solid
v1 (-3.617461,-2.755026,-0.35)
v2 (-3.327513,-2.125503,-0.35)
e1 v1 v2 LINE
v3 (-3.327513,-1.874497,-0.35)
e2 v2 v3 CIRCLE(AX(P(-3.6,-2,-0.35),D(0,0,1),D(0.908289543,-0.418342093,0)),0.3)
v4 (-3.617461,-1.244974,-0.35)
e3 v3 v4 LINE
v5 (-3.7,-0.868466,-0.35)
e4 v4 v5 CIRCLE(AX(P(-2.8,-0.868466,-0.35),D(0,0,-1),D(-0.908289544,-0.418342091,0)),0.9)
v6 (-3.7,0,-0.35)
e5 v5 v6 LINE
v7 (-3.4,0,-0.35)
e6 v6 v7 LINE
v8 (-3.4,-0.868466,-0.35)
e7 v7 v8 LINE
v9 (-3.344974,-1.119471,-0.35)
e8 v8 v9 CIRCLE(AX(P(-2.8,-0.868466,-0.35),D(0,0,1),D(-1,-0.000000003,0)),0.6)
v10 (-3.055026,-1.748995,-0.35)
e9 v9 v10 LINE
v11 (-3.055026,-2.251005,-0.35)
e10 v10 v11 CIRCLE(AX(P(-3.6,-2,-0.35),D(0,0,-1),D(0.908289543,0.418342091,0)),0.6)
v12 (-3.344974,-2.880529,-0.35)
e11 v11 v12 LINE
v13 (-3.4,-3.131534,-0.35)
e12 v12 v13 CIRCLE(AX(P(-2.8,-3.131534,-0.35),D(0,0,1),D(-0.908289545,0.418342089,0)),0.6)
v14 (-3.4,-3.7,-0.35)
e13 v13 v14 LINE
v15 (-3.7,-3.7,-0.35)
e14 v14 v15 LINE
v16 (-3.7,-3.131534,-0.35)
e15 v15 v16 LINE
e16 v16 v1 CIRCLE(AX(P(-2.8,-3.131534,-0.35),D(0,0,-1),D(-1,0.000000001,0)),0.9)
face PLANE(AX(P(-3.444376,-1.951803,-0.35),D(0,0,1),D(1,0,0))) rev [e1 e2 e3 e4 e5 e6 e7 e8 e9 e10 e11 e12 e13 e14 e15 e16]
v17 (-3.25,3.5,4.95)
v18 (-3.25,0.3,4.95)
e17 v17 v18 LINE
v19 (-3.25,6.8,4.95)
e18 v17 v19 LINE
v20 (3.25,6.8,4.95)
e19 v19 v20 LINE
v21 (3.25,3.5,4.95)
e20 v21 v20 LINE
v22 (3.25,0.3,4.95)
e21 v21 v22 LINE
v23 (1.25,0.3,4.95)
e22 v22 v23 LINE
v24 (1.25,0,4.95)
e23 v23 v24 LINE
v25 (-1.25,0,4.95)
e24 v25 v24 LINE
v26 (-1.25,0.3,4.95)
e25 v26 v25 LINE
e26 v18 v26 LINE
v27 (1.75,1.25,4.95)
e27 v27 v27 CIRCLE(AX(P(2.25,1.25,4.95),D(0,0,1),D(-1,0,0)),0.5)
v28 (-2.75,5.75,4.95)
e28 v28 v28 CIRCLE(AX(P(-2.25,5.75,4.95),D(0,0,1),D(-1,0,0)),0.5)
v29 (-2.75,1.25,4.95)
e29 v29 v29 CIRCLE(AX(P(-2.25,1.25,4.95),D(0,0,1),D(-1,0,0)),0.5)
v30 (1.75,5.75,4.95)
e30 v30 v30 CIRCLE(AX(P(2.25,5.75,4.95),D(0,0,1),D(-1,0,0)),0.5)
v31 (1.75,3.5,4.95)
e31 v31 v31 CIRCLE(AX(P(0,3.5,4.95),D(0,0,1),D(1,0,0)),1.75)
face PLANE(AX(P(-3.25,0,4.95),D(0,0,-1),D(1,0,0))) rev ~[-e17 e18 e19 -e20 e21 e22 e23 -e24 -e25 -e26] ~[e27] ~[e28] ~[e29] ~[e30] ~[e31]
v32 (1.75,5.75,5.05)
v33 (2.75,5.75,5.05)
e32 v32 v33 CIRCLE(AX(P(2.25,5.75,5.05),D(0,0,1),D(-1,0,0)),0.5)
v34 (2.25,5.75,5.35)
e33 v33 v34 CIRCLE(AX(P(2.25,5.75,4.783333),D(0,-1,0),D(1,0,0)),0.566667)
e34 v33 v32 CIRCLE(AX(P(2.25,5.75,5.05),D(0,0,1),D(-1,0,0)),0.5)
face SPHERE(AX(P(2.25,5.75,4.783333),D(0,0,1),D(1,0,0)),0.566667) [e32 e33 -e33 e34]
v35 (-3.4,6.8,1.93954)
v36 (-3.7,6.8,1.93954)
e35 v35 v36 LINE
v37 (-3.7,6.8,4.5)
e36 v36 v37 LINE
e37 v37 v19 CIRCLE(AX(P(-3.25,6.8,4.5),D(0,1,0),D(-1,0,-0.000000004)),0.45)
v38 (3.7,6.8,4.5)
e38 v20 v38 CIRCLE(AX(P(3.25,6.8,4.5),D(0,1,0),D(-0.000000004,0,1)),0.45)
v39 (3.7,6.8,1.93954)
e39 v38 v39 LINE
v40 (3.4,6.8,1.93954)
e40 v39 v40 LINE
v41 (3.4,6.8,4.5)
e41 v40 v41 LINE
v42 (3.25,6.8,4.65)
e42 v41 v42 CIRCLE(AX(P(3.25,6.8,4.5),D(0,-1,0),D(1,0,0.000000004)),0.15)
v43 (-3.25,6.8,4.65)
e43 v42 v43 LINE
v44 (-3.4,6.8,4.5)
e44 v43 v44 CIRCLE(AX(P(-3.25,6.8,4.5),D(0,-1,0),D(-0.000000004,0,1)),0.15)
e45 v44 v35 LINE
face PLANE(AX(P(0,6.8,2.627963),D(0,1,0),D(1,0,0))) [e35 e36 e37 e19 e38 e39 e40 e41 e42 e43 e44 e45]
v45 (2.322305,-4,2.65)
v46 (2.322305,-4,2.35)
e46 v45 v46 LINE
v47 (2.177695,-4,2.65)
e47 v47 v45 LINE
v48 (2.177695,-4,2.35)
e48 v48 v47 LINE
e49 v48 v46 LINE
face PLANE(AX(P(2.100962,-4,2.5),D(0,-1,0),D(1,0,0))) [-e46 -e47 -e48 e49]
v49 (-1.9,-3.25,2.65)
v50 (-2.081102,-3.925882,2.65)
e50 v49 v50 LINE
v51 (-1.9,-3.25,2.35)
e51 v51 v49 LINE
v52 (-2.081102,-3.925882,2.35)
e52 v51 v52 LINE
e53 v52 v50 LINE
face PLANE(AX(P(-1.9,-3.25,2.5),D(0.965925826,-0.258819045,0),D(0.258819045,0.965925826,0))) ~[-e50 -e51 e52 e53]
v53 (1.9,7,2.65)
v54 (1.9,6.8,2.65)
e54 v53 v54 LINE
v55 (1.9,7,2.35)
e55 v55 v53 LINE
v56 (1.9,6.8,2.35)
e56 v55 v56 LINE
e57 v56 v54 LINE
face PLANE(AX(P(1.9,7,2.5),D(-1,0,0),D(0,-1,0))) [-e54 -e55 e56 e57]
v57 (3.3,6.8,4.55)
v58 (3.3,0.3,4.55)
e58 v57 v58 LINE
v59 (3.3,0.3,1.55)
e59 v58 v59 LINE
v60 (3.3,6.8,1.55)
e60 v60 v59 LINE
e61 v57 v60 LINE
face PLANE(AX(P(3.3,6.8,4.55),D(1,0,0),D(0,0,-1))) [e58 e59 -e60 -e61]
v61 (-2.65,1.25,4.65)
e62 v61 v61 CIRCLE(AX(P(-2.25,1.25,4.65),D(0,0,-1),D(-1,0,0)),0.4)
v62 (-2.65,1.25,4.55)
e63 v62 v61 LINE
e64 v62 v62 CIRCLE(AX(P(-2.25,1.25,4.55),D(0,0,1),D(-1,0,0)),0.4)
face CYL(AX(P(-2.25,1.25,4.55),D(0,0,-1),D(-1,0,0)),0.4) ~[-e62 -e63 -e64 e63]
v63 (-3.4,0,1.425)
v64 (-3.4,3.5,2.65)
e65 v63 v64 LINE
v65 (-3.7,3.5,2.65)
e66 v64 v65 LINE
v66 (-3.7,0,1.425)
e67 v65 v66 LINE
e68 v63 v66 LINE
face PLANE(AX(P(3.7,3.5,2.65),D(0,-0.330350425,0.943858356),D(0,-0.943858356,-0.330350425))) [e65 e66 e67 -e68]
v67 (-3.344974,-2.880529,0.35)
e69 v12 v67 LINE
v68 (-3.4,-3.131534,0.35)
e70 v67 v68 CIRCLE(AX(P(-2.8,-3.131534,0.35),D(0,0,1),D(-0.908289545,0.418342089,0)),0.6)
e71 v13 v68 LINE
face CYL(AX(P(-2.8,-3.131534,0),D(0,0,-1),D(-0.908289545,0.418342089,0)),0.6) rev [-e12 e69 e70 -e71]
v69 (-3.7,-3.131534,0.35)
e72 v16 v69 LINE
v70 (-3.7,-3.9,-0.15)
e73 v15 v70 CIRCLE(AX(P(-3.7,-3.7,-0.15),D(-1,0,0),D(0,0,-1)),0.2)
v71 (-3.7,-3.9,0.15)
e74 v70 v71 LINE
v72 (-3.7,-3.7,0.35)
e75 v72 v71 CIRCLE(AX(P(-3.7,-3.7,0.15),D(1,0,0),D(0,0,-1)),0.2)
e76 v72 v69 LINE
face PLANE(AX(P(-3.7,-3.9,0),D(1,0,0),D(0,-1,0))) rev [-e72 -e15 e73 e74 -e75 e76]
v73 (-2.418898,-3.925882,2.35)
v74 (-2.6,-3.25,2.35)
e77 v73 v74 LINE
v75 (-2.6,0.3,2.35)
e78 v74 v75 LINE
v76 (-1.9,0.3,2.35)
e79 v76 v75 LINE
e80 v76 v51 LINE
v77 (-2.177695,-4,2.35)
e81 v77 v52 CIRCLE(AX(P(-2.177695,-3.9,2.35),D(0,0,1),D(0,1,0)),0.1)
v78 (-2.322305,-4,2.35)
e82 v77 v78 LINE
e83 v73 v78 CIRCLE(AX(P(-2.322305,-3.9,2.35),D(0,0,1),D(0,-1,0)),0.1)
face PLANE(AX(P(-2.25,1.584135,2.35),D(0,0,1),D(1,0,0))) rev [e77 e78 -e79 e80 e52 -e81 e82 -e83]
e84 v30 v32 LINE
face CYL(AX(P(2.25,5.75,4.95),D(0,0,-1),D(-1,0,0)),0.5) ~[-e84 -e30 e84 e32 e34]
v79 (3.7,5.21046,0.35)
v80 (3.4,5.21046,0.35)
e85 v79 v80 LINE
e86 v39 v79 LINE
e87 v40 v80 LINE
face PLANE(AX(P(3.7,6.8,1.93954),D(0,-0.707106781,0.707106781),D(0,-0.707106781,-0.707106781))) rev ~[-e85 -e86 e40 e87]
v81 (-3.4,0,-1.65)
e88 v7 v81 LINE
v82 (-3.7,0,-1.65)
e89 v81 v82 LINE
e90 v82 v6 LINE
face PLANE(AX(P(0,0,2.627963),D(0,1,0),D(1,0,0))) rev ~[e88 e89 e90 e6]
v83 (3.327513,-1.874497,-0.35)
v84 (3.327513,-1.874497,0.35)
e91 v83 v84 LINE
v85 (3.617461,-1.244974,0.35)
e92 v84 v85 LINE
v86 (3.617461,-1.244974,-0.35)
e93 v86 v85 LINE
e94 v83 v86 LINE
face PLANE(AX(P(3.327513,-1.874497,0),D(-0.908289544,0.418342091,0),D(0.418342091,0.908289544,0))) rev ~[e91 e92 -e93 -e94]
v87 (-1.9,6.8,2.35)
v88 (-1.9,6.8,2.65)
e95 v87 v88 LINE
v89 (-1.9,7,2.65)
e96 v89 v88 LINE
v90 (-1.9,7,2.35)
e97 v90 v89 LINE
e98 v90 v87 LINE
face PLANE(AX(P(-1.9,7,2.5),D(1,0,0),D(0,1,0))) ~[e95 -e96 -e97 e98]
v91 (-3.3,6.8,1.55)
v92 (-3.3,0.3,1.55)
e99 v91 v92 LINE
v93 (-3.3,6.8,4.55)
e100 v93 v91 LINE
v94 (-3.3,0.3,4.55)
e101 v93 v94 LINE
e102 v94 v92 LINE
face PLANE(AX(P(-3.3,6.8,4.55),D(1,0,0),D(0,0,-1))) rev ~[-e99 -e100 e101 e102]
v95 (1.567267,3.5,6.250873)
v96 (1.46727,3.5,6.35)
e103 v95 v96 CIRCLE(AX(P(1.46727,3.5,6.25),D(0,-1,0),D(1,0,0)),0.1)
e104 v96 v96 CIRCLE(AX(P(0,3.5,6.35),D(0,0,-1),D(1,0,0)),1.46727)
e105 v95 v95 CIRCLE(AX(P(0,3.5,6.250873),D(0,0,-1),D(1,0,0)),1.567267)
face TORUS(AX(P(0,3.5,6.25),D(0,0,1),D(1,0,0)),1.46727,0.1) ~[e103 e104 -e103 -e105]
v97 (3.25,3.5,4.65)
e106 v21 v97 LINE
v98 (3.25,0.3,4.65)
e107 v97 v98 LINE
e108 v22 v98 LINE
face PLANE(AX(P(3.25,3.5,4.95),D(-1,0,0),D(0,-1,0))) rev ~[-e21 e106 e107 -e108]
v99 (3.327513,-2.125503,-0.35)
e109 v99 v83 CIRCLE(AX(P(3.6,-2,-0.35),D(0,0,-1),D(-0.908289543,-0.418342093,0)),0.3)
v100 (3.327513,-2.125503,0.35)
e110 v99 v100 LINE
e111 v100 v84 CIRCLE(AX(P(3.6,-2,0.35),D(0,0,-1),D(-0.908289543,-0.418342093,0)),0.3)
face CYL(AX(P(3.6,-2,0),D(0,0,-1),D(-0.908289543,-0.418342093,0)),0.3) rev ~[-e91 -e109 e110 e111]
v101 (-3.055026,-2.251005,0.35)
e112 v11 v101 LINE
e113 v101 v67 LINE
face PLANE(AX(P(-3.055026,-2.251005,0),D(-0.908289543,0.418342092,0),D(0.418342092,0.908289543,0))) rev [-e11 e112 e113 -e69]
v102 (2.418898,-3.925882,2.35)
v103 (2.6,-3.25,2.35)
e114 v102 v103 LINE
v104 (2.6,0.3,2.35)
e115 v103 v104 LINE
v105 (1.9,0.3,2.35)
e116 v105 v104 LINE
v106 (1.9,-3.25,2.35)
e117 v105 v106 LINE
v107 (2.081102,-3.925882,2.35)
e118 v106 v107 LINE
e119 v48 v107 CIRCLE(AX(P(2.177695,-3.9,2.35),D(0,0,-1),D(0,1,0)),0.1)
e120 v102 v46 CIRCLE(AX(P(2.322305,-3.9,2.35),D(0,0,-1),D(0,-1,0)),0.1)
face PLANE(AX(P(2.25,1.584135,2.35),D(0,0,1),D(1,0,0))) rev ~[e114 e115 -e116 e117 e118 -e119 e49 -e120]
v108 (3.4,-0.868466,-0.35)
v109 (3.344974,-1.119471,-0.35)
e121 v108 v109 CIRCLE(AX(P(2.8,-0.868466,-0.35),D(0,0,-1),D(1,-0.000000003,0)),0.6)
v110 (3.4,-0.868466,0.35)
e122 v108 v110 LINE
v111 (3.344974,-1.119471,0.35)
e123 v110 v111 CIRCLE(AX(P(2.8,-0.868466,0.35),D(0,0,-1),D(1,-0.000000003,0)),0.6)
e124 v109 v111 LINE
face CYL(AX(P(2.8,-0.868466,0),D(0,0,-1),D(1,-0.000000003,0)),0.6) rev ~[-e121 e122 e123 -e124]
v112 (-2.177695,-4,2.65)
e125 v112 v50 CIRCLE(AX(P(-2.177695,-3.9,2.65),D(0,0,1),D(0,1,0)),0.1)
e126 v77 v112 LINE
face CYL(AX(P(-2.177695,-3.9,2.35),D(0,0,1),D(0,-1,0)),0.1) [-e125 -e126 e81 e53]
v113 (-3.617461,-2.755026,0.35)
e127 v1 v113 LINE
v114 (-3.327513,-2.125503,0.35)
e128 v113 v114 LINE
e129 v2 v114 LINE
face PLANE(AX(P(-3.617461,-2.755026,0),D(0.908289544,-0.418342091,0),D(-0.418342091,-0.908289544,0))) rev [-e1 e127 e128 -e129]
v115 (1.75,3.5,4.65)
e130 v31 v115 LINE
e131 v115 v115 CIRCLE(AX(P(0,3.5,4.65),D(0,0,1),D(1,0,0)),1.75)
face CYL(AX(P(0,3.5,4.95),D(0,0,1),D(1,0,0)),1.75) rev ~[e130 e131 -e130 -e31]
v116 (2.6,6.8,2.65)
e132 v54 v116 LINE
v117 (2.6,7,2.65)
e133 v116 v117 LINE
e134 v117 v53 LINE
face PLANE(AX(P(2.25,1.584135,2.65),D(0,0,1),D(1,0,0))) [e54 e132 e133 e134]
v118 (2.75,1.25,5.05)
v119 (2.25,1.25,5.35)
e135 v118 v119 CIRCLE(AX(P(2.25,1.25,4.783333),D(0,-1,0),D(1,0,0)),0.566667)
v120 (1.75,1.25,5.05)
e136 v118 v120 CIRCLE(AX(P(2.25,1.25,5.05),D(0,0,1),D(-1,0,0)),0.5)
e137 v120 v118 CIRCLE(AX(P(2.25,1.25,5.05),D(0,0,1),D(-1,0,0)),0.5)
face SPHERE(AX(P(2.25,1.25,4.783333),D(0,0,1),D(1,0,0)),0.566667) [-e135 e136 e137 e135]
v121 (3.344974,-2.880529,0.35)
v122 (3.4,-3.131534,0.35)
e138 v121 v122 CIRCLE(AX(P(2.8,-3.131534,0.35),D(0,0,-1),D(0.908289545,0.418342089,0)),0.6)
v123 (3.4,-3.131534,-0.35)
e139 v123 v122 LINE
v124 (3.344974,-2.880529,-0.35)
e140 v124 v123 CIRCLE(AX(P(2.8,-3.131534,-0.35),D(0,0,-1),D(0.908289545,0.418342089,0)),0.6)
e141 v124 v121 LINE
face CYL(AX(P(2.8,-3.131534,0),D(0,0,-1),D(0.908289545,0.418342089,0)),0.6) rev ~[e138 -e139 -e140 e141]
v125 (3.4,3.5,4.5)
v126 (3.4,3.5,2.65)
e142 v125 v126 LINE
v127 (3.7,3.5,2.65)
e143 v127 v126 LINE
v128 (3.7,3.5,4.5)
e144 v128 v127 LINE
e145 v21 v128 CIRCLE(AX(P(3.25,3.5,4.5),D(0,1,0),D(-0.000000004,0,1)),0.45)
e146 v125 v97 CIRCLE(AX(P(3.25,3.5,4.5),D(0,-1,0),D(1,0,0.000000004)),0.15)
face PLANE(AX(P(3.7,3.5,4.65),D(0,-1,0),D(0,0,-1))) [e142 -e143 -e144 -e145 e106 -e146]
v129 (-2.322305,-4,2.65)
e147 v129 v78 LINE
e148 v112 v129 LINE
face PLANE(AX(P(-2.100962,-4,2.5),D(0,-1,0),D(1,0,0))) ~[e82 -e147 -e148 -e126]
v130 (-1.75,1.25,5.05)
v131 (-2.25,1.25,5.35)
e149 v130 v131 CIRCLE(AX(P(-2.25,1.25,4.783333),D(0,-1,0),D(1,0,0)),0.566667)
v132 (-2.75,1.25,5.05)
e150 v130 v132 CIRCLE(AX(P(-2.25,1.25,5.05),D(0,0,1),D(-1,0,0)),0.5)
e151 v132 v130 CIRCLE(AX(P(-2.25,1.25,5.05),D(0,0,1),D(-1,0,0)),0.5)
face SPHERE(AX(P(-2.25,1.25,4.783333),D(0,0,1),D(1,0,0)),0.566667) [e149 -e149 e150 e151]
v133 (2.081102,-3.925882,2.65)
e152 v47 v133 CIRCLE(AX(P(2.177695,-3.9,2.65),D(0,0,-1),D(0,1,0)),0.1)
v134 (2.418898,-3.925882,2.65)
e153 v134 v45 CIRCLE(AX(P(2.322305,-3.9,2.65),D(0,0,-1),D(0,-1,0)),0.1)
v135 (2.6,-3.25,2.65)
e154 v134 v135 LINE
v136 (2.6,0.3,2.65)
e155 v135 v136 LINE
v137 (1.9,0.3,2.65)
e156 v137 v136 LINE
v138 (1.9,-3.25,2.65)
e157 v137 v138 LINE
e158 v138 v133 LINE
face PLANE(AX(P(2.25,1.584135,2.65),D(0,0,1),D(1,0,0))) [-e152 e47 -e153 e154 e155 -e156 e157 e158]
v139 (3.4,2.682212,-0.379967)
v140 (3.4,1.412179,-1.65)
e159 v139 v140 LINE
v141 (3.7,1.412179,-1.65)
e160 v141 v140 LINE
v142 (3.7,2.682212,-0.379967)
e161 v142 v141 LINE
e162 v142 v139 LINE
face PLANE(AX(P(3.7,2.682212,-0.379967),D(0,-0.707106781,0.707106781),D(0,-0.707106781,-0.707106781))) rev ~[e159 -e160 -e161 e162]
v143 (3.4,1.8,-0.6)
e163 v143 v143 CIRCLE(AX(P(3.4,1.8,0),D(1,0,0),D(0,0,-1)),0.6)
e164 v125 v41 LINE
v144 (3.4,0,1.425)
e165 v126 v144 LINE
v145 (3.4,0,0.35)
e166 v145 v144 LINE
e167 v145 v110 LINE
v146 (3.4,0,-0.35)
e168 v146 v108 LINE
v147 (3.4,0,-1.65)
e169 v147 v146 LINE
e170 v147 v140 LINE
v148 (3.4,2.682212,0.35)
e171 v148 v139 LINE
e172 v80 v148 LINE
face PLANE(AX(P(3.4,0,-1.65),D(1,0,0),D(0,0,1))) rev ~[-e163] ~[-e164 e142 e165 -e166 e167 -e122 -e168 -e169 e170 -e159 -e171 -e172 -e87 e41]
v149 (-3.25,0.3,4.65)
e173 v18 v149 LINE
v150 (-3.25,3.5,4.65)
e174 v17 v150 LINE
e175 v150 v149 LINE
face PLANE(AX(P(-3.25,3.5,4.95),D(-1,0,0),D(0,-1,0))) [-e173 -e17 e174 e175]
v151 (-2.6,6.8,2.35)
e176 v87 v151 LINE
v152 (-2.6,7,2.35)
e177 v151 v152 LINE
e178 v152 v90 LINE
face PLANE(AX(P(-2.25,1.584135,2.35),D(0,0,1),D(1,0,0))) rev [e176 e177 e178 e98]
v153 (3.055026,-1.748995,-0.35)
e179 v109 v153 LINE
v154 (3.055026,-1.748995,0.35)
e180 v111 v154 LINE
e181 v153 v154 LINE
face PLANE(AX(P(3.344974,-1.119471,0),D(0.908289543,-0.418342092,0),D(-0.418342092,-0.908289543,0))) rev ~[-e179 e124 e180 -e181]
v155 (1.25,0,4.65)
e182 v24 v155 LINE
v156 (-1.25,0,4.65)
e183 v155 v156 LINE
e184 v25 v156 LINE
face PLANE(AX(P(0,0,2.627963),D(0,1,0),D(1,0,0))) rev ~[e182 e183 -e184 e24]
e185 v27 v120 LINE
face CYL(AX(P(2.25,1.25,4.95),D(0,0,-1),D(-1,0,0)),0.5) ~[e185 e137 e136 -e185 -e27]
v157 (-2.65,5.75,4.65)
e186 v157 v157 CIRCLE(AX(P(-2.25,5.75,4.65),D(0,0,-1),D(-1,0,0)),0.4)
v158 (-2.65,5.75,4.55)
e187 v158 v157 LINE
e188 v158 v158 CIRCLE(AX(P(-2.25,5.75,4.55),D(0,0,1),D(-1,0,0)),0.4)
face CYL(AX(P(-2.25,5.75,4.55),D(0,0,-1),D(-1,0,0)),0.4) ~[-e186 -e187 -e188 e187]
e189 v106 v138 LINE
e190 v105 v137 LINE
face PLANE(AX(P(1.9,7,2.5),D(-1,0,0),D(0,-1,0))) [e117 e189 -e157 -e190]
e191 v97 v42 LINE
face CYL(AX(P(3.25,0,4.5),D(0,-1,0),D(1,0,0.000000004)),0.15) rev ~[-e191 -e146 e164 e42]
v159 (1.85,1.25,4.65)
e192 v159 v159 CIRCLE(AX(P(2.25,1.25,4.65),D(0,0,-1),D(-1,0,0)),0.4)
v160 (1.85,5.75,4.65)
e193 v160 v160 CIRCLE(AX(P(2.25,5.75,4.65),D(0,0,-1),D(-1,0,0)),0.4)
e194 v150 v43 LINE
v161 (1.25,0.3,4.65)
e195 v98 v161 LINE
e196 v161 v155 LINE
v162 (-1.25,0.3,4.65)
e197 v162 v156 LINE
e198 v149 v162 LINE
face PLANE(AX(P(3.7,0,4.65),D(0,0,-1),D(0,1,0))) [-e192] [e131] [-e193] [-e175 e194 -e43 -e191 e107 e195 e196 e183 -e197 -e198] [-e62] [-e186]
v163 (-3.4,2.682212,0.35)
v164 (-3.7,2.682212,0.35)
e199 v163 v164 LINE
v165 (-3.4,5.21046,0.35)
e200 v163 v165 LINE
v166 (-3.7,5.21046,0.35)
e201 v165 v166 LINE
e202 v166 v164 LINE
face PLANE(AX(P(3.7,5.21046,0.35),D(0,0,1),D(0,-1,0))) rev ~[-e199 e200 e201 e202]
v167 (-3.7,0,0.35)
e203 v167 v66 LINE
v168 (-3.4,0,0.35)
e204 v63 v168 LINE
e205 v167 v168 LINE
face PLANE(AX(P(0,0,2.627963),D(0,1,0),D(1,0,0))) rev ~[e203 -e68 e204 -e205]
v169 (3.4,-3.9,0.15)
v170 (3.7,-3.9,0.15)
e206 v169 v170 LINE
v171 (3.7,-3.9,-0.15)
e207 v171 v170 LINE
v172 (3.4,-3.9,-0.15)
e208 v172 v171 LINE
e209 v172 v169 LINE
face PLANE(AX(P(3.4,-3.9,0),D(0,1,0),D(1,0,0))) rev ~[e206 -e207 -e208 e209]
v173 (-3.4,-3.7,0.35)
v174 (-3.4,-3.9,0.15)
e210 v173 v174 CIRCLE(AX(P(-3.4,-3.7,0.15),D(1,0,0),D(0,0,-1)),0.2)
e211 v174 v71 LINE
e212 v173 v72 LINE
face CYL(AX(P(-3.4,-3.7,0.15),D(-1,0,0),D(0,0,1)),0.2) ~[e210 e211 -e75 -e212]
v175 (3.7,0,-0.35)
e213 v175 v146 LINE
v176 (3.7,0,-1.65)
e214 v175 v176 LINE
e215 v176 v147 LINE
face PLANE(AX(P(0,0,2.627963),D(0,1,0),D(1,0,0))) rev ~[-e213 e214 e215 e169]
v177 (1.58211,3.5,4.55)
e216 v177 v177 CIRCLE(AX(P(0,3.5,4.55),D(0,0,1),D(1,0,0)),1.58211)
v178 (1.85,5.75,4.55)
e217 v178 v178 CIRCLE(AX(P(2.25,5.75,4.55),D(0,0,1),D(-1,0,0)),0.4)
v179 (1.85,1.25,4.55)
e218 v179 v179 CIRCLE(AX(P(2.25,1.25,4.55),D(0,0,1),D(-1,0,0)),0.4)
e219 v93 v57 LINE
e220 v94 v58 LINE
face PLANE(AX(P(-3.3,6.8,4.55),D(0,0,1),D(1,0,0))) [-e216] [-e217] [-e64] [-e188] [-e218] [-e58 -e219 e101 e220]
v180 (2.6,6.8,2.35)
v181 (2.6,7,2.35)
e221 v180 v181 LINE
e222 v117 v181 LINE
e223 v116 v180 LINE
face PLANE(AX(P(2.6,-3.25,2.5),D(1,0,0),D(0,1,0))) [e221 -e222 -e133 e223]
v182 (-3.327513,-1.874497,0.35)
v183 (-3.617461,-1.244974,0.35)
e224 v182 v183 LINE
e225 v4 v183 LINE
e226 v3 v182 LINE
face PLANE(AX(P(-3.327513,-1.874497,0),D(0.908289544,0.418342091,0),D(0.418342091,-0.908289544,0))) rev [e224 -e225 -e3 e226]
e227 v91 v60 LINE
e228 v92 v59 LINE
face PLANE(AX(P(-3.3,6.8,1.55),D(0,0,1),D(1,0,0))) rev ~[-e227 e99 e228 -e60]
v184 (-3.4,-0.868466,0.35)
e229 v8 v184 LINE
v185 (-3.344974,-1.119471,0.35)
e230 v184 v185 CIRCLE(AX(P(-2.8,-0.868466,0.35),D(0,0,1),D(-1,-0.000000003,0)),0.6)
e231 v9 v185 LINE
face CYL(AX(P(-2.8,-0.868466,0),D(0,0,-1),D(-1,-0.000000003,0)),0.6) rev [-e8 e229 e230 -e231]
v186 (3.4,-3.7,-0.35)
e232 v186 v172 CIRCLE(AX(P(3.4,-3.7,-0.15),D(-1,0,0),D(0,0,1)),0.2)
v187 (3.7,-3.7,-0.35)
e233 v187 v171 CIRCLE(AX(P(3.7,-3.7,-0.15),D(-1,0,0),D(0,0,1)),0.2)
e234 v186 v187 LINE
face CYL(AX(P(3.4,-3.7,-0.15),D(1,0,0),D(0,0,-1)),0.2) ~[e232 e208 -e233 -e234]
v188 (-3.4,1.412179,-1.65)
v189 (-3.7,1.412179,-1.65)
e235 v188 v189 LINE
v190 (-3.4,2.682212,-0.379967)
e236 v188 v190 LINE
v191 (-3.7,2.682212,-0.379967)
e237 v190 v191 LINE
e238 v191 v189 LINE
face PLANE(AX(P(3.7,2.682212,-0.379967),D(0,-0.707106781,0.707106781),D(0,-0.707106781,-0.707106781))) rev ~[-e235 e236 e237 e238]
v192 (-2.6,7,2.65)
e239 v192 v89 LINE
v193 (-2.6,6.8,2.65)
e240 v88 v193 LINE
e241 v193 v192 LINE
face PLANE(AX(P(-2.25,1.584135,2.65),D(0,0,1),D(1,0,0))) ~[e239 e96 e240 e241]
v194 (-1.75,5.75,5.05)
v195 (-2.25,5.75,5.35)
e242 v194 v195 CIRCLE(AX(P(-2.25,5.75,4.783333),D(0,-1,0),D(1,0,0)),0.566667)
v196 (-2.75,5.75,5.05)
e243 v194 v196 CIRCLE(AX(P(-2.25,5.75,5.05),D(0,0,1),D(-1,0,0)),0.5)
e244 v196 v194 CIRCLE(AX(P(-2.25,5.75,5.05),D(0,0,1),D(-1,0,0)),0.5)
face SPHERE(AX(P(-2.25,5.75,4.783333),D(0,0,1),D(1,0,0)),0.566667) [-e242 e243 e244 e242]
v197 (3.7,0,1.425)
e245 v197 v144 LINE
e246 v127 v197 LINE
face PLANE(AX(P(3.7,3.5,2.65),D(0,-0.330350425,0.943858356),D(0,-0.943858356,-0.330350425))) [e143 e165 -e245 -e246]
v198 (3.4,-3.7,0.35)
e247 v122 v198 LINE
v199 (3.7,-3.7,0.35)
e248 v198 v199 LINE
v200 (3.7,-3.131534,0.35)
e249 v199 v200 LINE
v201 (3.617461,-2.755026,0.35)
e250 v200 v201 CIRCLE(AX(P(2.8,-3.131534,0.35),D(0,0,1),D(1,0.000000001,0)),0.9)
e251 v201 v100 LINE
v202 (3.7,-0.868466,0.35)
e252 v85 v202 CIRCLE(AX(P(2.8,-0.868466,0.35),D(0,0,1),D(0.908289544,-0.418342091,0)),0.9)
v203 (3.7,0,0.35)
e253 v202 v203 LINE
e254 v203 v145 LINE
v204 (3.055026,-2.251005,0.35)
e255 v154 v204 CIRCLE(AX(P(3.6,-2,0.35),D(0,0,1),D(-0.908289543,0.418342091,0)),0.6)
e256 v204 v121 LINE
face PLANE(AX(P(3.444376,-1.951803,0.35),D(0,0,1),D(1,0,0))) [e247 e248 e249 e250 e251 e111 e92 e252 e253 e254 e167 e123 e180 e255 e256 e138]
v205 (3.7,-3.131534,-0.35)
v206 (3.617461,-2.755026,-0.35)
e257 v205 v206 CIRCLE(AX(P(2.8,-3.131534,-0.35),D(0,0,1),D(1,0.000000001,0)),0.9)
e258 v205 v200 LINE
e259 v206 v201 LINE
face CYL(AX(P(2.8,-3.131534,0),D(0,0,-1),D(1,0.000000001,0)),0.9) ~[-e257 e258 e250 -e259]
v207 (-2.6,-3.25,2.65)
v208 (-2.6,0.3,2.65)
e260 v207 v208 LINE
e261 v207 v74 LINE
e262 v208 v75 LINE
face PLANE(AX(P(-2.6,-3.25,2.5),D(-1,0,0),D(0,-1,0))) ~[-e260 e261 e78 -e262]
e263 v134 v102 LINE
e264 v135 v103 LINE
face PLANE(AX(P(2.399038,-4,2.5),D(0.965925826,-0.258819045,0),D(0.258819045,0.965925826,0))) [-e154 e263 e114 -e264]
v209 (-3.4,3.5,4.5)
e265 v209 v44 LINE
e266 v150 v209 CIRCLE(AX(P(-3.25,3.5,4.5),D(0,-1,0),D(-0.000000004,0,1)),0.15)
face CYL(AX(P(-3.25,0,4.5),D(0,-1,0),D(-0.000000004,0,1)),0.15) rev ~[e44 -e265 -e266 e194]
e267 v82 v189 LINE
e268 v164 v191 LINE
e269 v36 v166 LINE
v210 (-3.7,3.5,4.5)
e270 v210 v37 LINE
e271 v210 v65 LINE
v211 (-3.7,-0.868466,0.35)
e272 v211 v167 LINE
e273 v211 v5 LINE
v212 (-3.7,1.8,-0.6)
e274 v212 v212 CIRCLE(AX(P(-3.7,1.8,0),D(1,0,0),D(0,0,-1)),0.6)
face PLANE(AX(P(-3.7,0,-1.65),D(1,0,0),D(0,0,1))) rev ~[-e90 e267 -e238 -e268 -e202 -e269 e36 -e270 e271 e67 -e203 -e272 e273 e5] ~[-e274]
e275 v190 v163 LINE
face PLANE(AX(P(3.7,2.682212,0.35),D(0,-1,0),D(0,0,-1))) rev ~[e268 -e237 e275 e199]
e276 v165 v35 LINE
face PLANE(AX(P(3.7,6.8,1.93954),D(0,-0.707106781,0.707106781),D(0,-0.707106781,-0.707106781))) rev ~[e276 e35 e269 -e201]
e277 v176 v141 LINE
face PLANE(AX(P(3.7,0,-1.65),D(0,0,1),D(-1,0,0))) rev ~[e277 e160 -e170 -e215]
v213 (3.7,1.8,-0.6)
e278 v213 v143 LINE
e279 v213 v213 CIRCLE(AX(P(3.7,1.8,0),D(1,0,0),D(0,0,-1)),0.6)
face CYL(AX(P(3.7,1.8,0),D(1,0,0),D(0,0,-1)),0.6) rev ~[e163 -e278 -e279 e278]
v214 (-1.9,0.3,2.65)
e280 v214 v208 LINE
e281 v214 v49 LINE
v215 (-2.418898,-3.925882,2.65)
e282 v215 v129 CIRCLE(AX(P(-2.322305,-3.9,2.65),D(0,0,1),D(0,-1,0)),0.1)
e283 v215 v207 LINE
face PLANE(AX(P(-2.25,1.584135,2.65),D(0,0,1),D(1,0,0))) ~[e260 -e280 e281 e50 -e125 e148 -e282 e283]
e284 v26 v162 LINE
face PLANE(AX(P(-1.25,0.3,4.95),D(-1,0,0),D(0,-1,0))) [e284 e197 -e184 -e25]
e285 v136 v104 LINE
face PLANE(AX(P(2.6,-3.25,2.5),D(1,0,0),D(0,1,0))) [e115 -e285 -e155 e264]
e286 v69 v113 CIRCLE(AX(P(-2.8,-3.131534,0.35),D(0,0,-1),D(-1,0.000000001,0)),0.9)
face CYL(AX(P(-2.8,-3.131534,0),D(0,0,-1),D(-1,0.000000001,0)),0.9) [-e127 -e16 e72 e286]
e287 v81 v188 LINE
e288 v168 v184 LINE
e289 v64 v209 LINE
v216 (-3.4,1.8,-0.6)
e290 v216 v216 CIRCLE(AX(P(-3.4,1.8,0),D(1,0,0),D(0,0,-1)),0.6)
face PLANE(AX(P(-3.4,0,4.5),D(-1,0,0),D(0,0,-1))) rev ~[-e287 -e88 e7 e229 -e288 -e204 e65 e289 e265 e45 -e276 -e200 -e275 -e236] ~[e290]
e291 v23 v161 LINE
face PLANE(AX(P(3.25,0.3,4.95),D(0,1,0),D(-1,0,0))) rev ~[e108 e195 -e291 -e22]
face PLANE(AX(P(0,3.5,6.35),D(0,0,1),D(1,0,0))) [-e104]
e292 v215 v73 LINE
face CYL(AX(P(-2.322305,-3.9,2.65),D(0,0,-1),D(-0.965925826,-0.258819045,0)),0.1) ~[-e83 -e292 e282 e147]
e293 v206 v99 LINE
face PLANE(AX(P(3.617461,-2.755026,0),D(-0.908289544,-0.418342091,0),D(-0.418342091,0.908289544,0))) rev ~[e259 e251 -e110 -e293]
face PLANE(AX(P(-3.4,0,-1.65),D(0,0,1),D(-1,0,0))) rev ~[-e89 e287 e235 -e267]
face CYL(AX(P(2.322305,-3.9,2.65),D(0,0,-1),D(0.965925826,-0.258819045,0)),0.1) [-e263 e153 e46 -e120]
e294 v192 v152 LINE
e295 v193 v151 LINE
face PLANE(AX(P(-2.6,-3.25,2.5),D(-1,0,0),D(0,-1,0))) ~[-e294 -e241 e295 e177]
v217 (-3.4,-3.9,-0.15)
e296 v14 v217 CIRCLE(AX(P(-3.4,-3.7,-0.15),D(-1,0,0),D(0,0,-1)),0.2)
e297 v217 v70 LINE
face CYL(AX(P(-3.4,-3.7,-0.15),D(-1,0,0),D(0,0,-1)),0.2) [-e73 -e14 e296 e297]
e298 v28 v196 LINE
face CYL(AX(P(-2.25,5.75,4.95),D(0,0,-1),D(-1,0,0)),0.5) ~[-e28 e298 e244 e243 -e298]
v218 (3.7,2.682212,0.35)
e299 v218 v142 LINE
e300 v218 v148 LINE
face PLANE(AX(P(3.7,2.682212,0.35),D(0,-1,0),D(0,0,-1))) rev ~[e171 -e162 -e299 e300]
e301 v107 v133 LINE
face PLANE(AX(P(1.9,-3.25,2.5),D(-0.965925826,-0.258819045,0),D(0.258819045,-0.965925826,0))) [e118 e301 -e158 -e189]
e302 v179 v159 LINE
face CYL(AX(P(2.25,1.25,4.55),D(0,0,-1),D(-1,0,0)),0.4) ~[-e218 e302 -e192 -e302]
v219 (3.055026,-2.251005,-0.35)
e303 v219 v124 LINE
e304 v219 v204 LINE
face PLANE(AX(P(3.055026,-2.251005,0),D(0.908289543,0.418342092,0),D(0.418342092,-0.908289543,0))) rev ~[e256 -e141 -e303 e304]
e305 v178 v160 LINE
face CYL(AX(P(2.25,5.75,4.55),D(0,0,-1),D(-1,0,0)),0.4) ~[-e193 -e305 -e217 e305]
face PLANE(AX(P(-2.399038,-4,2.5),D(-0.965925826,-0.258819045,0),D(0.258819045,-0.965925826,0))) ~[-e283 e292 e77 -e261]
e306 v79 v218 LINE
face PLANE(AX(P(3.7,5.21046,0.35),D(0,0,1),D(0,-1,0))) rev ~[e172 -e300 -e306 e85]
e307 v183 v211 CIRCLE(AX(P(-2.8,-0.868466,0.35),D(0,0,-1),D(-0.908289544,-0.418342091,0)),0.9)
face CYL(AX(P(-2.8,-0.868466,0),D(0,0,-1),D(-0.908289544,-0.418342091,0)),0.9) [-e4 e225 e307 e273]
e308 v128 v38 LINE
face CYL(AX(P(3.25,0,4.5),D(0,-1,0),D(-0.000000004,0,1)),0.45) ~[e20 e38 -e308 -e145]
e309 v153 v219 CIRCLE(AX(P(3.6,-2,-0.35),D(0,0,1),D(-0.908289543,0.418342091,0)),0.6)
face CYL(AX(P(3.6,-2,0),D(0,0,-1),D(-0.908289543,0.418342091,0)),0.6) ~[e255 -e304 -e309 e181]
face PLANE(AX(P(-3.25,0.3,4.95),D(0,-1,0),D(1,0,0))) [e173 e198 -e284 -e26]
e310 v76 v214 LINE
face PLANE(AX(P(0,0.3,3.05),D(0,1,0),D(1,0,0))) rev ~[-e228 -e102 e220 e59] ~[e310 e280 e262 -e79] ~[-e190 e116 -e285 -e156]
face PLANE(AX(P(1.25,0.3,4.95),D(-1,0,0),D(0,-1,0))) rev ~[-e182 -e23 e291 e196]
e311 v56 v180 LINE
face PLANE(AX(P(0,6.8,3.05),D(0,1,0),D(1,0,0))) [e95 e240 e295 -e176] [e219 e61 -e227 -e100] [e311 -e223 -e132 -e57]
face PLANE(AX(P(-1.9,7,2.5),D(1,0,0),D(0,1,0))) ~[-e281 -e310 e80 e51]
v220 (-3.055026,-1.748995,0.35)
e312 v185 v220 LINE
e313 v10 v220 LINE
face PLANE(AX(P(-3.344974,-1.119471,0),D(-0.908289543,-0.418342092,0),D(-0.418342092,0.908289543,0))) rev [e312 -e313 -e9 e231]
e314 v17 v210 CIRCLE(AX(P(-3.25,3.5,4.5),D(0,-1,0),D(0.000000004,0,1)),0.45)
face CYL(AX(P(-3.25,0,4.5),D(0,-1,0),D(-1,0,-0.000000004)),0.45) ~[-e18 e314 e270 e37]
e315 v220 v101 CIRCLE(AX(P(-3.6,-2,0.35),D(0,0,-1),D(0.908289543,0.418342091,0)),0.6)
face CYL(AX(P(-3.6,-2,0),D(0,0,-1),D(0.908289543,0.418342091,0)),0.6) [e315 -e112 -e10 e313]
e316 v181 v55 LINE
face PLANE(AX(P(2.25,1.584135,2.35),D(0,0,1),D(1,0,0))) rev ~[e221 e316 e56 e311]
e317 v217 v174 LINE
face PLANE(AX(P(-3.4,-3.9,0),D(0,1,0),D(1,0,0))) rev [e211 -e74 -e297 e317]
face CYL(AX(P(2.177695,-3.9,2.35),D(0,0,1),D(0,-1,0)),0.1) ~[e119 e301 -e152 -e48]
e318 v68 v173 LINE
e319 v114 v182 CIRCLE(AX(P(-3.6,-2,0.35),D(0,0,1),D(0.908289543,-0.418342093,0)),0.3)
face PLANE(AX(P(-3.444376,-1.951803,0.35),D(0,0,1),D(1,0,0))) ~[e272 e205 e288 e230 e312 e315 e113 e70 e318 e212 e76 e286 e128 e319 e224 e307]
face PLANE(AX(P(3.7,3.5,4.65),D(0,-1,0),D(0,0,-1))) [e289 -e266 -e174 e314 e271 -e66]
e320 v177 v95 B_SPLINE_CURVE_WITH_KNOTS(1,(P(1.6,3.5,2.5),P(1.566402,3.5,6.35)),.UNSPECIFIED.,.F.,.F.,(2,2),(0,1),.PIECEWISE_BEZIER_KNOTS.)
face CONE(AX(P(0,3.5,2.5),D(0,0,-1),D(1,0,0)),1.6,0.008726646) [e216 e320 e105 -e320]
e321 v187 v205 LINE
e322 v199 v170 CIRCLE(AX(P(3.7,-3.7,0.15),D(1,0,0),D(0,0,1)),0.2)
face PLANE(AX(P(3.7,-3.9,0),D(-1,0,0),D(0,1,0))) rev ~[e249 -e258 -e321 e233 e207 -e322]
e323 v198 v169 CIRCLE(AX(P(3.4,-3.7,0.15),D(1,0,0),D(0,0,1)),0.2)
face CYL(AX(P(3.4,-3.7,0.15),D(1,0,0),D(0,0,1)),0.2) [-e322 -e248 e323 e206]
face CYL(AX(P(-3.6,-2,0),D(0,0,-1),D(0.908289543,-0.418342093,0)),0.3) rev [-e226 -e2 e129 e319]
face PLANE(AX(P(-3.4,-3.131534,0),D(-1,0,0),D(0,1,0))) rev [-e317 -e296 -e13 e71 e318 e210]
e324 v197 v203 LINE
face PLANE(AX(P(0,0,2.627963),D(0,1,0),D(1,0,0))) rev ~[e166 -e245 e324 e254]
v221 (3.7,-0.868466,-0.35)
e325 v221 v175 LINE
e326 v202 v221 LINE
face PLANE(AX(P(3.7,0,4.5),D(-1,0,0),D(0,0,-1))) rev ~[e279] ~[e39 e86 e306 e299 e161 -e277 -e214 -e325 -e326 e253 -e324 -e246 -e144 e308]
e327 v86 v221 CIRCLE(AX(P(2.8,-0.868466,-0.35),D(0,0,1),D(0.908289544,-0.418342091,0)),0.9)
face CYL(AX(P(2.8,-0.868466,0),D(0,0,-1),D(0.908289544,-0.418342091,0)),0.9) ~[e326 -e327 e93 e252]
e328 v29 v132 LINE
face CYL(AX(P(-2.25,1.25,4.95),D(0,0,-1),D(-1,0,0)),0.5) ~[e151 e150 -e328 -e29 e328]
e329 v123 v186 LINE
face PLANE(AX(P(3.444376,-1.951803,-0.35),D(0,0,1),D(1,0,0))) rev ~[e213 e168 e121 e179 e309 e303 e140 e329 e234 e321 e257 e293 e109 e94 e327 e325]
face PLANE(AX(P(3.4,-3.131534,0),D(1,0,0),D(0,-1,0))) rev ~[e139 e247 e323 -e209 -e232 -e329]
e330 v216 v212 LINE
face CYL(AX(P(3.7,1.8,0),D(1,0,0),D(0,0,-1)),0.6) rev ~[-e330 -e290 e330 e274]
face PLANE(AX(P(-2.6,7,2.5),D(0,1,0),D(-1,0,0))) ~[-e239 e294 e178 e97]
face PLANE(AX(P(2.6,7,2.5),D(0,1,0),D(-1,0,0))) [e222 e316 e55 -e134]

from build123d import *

# Parameters (mm, degrees)
EXTRUDE_THIN1_DEPTH          = 6.8
SKETCH2_R                    = 0.6
CUT_EXTRUDE1_DEPTH           = 13.518086915
CUT_EXTRUDE2_REACH           = 13.606
SKETCH3_R                    = 1.75
EXTRUDE_THIN2_DEPTH          = 0.35
FILLET1_R                    = 0.2
SKETCH6_R                    = 0.5
EXTRUDE1_DEPTH               = 0.1
DOME1_FACE_RADIUS            = 0.5
DOME1_HEIGHT                 = 0.3
LPATTERN1_COUNT              = 2
LPATTERN1_PITCH              = 4.5
LPATTERN1_COUNT_DIR2         = 2
LPATTERN1_PITCH_DIR2         = 4.5
LPATTERN1_COPY_1_FACE_RADIUS = 0.5
LPATTERN1_COPY_1_HEIGHT      = 0.3
LPATTERN1_COPY_2_FACE_RADIUS = 0.5
LPATTERN1_COPY_2_HEIGHT      = 0.3
LPATTERN1_COPY_3_FACE_RADIUS = 0.5
LPATTERN1_COPY_3_HEIGHT      = 0.3
SKETCH7_W                    = 6.6
SKETCH7_H                    = 3
EXTRUDE2_DEPTH               = 6.5
EXTRUDE3_START               = 2.5
SKETCH8_R                    = 1.6
EXTRUDE3_DEPTH               = 3.85
EXTRUDE3_TAPER               = 0.5
FILLET2_R                    = 0.1
EXTRUDE4_DEPTH               = 0.15
FILLET3_R                    = 0.1
FILLET1_OF_MIRROR1_R         = 0.2
FILLET3_OF_MIRROR2_R         = 0.1
EXTRUDE5_REACH               = 13.538
SKETCH10_R                   = 0.4
BODY_MOVE_COPY1_ANGLE        = 180


with BuildPart() as part:
    # Sketch1 → Extrude-Thin1 (new body)
    with BuildSketch(Plane(origin=(0, 2, 0), x_dir=(-1, 0, 0), z_dir=(0, 1, 0))):
        with BuildLine():
            Line((-3.7, 1.65), (-3.7, -4.5))
            ThreePointArc((-3.7, -4.5), (-3.568198052, -4.818198052), (-3.25, -4.95))
            Line((-3.25, -4.95), (3.25, -4.95))
            ThreePointArc((3.25, -4.95), (3.568198052, -4.818198052), (3.7, -4.5))
            Line((3.7, -4.5), (3.7, 1.65))
            Line((3.7, 1.65), (3.4, 1.65))
            Line((3.4, 1.65), (3.4, -4.5))
            ThreePointArc((3.4, -4.5), (3.356066017, -4.606066017), (3.25, -4.65))
            Line((3.25, -4.65), (-3.25, -4.65))
            ThreePointArc((-3.25, -4.65), (-3.356066017, -4.606066017), (-3.4, -4.5))
            Line((-3.4, -4.5), (-3.4, 1.65))
            Line((-3.4, 1.65), (-3.7, 1.65))
        make_face()
    extrude(amount=EXTRUDE_THIN1_DEPTH)

    # Sketch2 → Cut-Extrude1 (cut, through all)
    with BuildSketch(Plane.ZY.offset(3.7)):
        with Locations((0, 3.8)):
            Circle(SKETCH2_R)
        Polygon((-4.65, 2), (-4.65, 5.5), (-2.65, 5.5), (-1.425, 2), align=None)
        Polygon((-1.939540106, 8.8), (-0.35, 7.210459894), (-0.35, 4.682211917), (0.379967393, 4.682211917), (1.65, 3.41217931), (1.65, 8.8), align=None)
    extrude(amount=-CUT_EXTRUDE1_DEPTH, mode=Mode.SUBTRACT)

    # Sketch3 → Cut-Extrude2 (cut, up to next)
    with BuildSketch(Plane(origin=(0, 0, -4.95), x_dir=(-1, 0, 0), z_dir=(0, 0, -1)), mode=Mode.PRIVATE) as cut_extrude2_sk1:
        with Locations((0, 5.5)):
            Circle(SKETCH3_R)
    cut_extrude2_tool1 = extrude(cut_extrude2_sk1.sketch, amount=-CUT_EXTRUDE2_REACH, mode=Mode.PRIVATE) & part.part
    # Sketch3 → Cut-Extrude2 (cut, up to next)
    with BuildSketch(Plane(origin=(0, 0, -4.95), x_dir=(-1, 0, 0), z_dir=(0, 0, -1)), mode=Mode.PRIVATE) as cut_extrude2_sk2:
        Polygon((3.7, 5.5), (3.25, 5.5), (3.25, 2.3), (1.25, 2.3), (1.25, 2), (3.7, 2), align=None)
    cut_extrude2_tool2 = extrude(cut_extrude2_sk2.sketch, amount=-CUT_EXTRUDE2_REACH, mode=Mode.PRIVATE) & part.part
    # Sketch3 → Cut-Extrude2 (cut, up to next)
    with BuildSketch(Plane(origin=(0, 0, -4.95), x_dir=(-1, 0, 0), z_dir=(0, 0, -1)), mode=Mode.PRIVATE) as cut_extrude2_sk3:
        Polygon((-3.7, 5.5), (-3.25, 5.5), (-3.25, 2.3), (-1.25, 2.3), (-1.25, 2), (-3.7, 2), align=None)
    cut_extrude2_tool3 = extrude(cut_extrude2_sk3.sketch, amount=-CUT_EXTRUDE2_REACH, mode=Mode.PRIVATE) & part.part
    add(cut_extrude2_tool1.solids().sort_by_distance((0, 5.5, -4.95))[0], mode=Mode.SUBTRACT)
    add(cut_extrude2_tool2.solids().sort_by_distance((-3.475, 5.457277, -4.95))[0], mode=Mode.SUBTRACT)
    add(cut_extrude2_tool3.solids().sort_by_distance((3.475, 5.457277, -4.95))[0], mode=Mode.SUBTRACT)

    # Sketch5 → Extrude-Thin2 (add, symmetric)
    with BuildSketch(Plane.XY):
        with BuildLine():
            Line((-3.4, 2), (-3.4, 1.131534156))
            ThreePointArc((-3.4, 1.131534156), (-3.386082006, 1.003051153), (-3.344973726, 0.880528901))
            Line((-3.344973726, 0.880528901), (-3.055026274, 0.251005255))
            ThreePointArc((-3.055026274, 0.251005255), (-3, 0), (-3.055026274, -0.251005255))
            Line((-3.055026274, -0.251005255), (-3.344973726, -0.880528901))
            ThreePointArc((-3.344973726, -0.880528901), (-3.386082006, -1.003051153), (-3.4, -1.131534156))
            Line((-3.4, -1.131534156), (-3.4, -1.9))
            Line((-3.4, -1.9), (-3.7, -1.9))
            Line((-3.7, -1.9), (-3.7, -1.131534156))
            ThreePointArc((-3.7, -1.131534156), (-3.679123009, -0.938809651), (-3.617460589, -0.755026274))
            Line((-3.617460589, -0.755026274), (-3.327513137, -0.125502627))
            ThreePointArc((-3.327513137, -0.125502627), (-3.3, 0), (-3.327513137, 0.125502627))
            Line((-3.327513137, 0.125502627), (-3.617460589, 0.755026274))
            ThreePointArc((-3.617460589, 0.755026274), (-3.679123009, 0.938809651), (-3.7, 1.131534156))
            Line((-3.7, 1.131534156), (-3.7, 2))
            Line((-3.7, 2), (-3.4, 2))
        make_face()
    extrude_thin2 = extrude(amount=EXTRUDE_THIN2_DEPTH, both=True)

    # Fillet1
    fillet1_edges = [part.edges().sort_by_distance(p)[0] for p in [
        (-3.55, -1.9, 0.35),
        (-3.55, -1.9, -0.35),
    ]]
    fillet(fillet1_edges, radius=FILLET1_R)

    # Sketch6 → Extrude1 (add)
    with BuildSketch(Plane(origin=(0, 0, -4.95), x_dir=(-1, 0, 0), z_dir=(0, 0, -1))):
        with Locations(Location((-2.25, 3.25, 0), (0, 0, 180))):
            Circle(SKETCH6_R)
    extrude1 = extrude(amount=EXTRUDE1_DEPTH)

    # Dome1: a dome of height H over a round flat face of radius A is a cap of a sphere of radius (A * A + H * H) / (2 * H)
    dome1_r = (DOME1_FACE_RADIUS * DOME1_FACE_RADIUS + DOME1_HEIGHT * DOME1_HEIGHT) / (2 * DOME1_HEIGHT)
    dome1_base = Plane((2.25, 3.25, -5.05), z_dir=(0, 0, -1))
    with Locations(dome1_base.offset(DOME1_HEIGHT - dome1_r)):
        dome1_ball = Sphere(dome1_r, mode=Mode.PRIVATE)
    add(split(dome1_ball, bisect_by=dome1_base, keep=Keep.TOP, mode=Mode.PRIVATE))

    # LPattern1: Extrude1 2 × 2
    with Locations(*[(-j * LPATTERN1_PITCH_DIR2, i * LPATTERN1_PITCH, 0) for i in range(LPATTERN1_COUNT) for j in range(LPATTERN1_COUNT_DIR2) if (i, j) != (0, 0)]):
        add(extrude1)

    # LPattern1 copy 1: a dome of height H over a round flat face of radius A is a cap of a sphere of radius (A * A + H * H) / (2 * H)
    lpattern1_copy_1_r = (LPATTERN1_COPY_1_FACE_RADIUS * LPATTERN1_COPY_1_FACE_RADIUS + LPATTERN1_COPY_1_HEIGHT * LPATTERN1_COPY_1_HEIGHT) / (2 * LPATTERN1_COPY_1_HEIGHT)
    lpattern1_copy_1_base = Plane((-2.25, 3.25, -5.05), z_dir=(0, 0, -1))
    with Locations(lpattern1_copy_1_base.offset(LPATTERN1_COPY_1_HEIGHT - lpattern1_copy_1_r)):
        lpattern1_copy_1_ball = Sphere(lpattern1_copy_1_r, mode=Mode.PRIVATE)
    add(split(lpattern1_copy_1_ball, bisect_by=lpattern1_copy_1_base, keep=Keep.TOP, mode=Mode.PRIVATE))

    # LPattern1 copy 2: a dome of height H over a round flat face of radius A is a cap of a sphere of radius (A * A + H * H) / (2 * H)
    lpattern1_copy_2_r = (LPATTERN1_COPY_2_FACE_RADIUS * LPATTERN1_COPY_2_FACE_RADIUS + LPATTERN1_COPY_2_HEIGHT * LPATTERN1_COPY_2_HEIGHT) / (2 * LPATTERN1_COPY_2_HEIGHT)
    lpattern1_copy_2_base = Plane((2.25, 7.75, -5.05), z_dir=(0, 0, -1))
    with Locations(lpattern1_copy_2_base.offset(LPATTERN1_COPY_2_HEIGHT - lpattern1_copy_2_r)):
        lpattern1_copy_2_ball = Sphere(lpattern1_copy_2_r, mode=Mode.PRIVATE)
    add(split(lpattern1_copy_2_ball, bisect_by=lpattern1_copy_2_base, keep=Keep.TOP, mode=Mode.PRIVATE))

    # LPattern1 copy 3: a dome of height H over a round flat face of radius A is a cap of a sphere of radius (A * A + H * H) / (2 * H)
    lpattern1_copy_3_r = (LPATTERN1_COPY_3_FACE_RADIUS * LPATTERN1_COPY_3_FACE_RADIUS + LPATTERN1_COPY_3_HEIGHT * LPATTERN1_COPY_3_HEIGHT) / (2 * LPATTERN1_COPY_3_HEIGHT)
    lpattern1_copy_3_base = Plane((-2.25, 7.75, -5.05), z_dir=(0, 0, -1))
    with Locations(lpattern1_copy_3_base.offset(LPATTERN1_COPY_3_HEIGHT - lpattern1_copy_3_r)):
        lpattern1_copy_3_ball = Sphere(lpattern1_copy_3_r, mode=Mode.PRIVATE)
    add(split(lpattern1_copy_3_ball, bisect_by=lpattern1_copy_3_base, keep=Keep.TOP, mode=Mode.PRIVATE))

    # Mirror1: Extrude-Thin2 across plane
    add(extrude_thin2.mirror(Plane(origin=(0, 0, 0), x_dir=(0, 0, 1), z_dir=(1, 0, 0))))

    # Fillet1 of Mirror1
    fillet1_of_mirror1_edges = [part.edges().sort_by_distance(p)[0] for p in [
        (3.55, -1.9, 0.35),
        (3.55, -1.9, -0.35),
    ]]
    fillet(fillet1_of_mirror1_edges, radius=FILLET1_OF_MIRROR1_R)

    # Sketch10 → Extrude5 (add, up to next)
    with BuildSketch(Plane(origin=(0, 0, -4.55), x_dir=(-1, 0, 0), z_dir=(0, 0, -1)), mode=Mode.PRIVATE) as extrude5_sk1:
        with Locations(Location((-2.25, 7.75, 0), (0, 0, 180))):
            Circle(SKETCH10_R)
    extrude5_tool1 = extrude(extrude5_sk1.sketch, amount=EXTRUDE5_REACH, mode=Mode.PRIVATE) - part.part
    # Sketch10 → Extrude5 (add, up to next)
    with BuildSketch(Plane(origin=(0, 0, -4.55), x_dir=(-1, 0, 0), z_dir=(0, 0, -1)), mode=Mode.PRIVATE) as extrude5_sk2:
        with Locations(Location((2.25, 7.75, 0), (0, 0, 180))):
            Circle(SKETCH10_R)
    extrude5_tool2 = extrude(extrude5_sk2.sketch, amount=EXTRUDE5_REACH, mode=Mode.PRIVATE) - part.part
    # Sketch10 → Extrude5 (add, up to next)
    with BuildSketch(Plane(origin=(0, 0, -4.55), x_dir=(-1, 0, 0), z_dir=(0, 0, -1)), mode=Mode.PRIVATE) as extrude5_sk3:
        with Locations(Location((-2.25, 3.25, 0), (0, 0, 180))):
            Circle(SKETCH10_R)
    extrude5_tool3 = extrude(extrude5_sk3.sketch, amount=EXTRUDE5_REACH, mode=Mode.PRIVATE) - part.part
    # Sketch10 → Extrude5 (add, up to next)
    with BuildSketch(Plane(origin=(0, 0, -4.55), x_dir=(-1, 0, 0), z_dir=(0, 0, -1)), mode=Mode.PRIVATE) as extrude5_sk4:
        with Locations(Location((2.25, 3.25, 0), (0, 0, 180))):
            Circle(SKETCH10_R)
    extrude5_tool4 = extrude(extrude5_sk4.sketch, amount=EXTRUDE5_REACH, mode=Mode.PRIVATE) - part.part


with BuildPart() as body_2:
    # Sketch7 → Extrude2 (new body)
    with BuildSketch(Plane(origin=(0, 8.8, 0), x_dir=(-1, 0, 0), z_dir=(0, 1, 0))):
        with Locations((0, -3.05)):
            Rectangle(SKETCH7_W, SKETCH7_H)
    extrude(amount=-EXTRUDE2_DEPTH)

    # Sketch8 → Extrude3 (add)
    with BuildSketch(Plane(origin=(0, 0, 0), x_dir=(-1, 0, 0), z_dir=(0, 0, -1)).offset(EXTRUDE3_START)):
        with Locations((0, 5.5)):
            Circle(SKETCH8_R)
    extrude(amount=EXTRUDE3_DEPTH, taper=EXTRUDE3_TAPER)

    # Fillet2
    fillet2_edges = [body_2.edges().sort_by_distance(p)[0] for p in [
        (1.566401559, 5.5, -6.35),
    ]]
    fillet(fillet2_edges, radius=FILLET2_R)

    # Sketch9 → Extrude4 (add, symmetric)
    with BuildSketch(Plane(origin=(0, 0, -2.5), x_dir=(-1, 0, 0), z_dir=(0, 0, -1))):
        Polygon((2.6, 9), (1.9, 9), (1.9, -1.25), (2.100961894, -2), (2.399038106, -2), (2.6, -1.25), align=None)
    extrude4 = extrude(amount=EXTRUDE4_DEPTH, both=True)

    # Fillet3
    fillet3_edges = [body_2.edges().sort_by_distance(p)[0] for p in [
        (-2.100961894, -2, -2.5),
        (-2.399038106, -2, -2.5),
    ]]
    fillet(fillet3_edges, radius=FILLET3_R)

    # Mirror2: Extrude4 across plane
    add(extrude4.mirror(Plane(origin=(0, 0, 0), x_dir=(0, 0, 1), z_dir=(1, 0, 0))))

    # Fillet3 of Mirror2
    fillet3_of_mirror2_edges = [body_2.edges().sort_by_distance(p)[0] for p in [
        (2.100961894, -2, -2.5),
        (2.399038106, -2, -2.5),
    ]]
    fillet(fillet3_of_mirror2_edges, radius=FILLET3_OF_MIRROR2_R)


with BuildPart() as part_1:
    add(part.part)

    add(body_2.part)  # Extrude5 merges body 2
    add(extrude5_tool1.solids().sort_by_distance((2.25, 7.75, -4.55))[0])
    add(extrude5_tool2.solids().sort_by_distance((-2.25, 7.75, -4.55))[0])
    add(extrude5_tool3.solids().sort_by_distance((2.25, 3.25, -4.55))[0])
    add(extrude5_tool4.solids().sort_by_distance((-2.25, 3.25, -4.55))[0])


with BuildPart() as part_2:
    # Body-Move_Copy1: moved
    add(part_1.part.rotate(Axis((0, 0, 0), (0, 1, 0)), BODY_MOVE_COPY1_ANGLE))


with BuildPart() as part_3:
    # Body-Move_Copy2: moved
    add(part_2.part.moved(Location((0, -2, 0))))


solid = part_3.part
